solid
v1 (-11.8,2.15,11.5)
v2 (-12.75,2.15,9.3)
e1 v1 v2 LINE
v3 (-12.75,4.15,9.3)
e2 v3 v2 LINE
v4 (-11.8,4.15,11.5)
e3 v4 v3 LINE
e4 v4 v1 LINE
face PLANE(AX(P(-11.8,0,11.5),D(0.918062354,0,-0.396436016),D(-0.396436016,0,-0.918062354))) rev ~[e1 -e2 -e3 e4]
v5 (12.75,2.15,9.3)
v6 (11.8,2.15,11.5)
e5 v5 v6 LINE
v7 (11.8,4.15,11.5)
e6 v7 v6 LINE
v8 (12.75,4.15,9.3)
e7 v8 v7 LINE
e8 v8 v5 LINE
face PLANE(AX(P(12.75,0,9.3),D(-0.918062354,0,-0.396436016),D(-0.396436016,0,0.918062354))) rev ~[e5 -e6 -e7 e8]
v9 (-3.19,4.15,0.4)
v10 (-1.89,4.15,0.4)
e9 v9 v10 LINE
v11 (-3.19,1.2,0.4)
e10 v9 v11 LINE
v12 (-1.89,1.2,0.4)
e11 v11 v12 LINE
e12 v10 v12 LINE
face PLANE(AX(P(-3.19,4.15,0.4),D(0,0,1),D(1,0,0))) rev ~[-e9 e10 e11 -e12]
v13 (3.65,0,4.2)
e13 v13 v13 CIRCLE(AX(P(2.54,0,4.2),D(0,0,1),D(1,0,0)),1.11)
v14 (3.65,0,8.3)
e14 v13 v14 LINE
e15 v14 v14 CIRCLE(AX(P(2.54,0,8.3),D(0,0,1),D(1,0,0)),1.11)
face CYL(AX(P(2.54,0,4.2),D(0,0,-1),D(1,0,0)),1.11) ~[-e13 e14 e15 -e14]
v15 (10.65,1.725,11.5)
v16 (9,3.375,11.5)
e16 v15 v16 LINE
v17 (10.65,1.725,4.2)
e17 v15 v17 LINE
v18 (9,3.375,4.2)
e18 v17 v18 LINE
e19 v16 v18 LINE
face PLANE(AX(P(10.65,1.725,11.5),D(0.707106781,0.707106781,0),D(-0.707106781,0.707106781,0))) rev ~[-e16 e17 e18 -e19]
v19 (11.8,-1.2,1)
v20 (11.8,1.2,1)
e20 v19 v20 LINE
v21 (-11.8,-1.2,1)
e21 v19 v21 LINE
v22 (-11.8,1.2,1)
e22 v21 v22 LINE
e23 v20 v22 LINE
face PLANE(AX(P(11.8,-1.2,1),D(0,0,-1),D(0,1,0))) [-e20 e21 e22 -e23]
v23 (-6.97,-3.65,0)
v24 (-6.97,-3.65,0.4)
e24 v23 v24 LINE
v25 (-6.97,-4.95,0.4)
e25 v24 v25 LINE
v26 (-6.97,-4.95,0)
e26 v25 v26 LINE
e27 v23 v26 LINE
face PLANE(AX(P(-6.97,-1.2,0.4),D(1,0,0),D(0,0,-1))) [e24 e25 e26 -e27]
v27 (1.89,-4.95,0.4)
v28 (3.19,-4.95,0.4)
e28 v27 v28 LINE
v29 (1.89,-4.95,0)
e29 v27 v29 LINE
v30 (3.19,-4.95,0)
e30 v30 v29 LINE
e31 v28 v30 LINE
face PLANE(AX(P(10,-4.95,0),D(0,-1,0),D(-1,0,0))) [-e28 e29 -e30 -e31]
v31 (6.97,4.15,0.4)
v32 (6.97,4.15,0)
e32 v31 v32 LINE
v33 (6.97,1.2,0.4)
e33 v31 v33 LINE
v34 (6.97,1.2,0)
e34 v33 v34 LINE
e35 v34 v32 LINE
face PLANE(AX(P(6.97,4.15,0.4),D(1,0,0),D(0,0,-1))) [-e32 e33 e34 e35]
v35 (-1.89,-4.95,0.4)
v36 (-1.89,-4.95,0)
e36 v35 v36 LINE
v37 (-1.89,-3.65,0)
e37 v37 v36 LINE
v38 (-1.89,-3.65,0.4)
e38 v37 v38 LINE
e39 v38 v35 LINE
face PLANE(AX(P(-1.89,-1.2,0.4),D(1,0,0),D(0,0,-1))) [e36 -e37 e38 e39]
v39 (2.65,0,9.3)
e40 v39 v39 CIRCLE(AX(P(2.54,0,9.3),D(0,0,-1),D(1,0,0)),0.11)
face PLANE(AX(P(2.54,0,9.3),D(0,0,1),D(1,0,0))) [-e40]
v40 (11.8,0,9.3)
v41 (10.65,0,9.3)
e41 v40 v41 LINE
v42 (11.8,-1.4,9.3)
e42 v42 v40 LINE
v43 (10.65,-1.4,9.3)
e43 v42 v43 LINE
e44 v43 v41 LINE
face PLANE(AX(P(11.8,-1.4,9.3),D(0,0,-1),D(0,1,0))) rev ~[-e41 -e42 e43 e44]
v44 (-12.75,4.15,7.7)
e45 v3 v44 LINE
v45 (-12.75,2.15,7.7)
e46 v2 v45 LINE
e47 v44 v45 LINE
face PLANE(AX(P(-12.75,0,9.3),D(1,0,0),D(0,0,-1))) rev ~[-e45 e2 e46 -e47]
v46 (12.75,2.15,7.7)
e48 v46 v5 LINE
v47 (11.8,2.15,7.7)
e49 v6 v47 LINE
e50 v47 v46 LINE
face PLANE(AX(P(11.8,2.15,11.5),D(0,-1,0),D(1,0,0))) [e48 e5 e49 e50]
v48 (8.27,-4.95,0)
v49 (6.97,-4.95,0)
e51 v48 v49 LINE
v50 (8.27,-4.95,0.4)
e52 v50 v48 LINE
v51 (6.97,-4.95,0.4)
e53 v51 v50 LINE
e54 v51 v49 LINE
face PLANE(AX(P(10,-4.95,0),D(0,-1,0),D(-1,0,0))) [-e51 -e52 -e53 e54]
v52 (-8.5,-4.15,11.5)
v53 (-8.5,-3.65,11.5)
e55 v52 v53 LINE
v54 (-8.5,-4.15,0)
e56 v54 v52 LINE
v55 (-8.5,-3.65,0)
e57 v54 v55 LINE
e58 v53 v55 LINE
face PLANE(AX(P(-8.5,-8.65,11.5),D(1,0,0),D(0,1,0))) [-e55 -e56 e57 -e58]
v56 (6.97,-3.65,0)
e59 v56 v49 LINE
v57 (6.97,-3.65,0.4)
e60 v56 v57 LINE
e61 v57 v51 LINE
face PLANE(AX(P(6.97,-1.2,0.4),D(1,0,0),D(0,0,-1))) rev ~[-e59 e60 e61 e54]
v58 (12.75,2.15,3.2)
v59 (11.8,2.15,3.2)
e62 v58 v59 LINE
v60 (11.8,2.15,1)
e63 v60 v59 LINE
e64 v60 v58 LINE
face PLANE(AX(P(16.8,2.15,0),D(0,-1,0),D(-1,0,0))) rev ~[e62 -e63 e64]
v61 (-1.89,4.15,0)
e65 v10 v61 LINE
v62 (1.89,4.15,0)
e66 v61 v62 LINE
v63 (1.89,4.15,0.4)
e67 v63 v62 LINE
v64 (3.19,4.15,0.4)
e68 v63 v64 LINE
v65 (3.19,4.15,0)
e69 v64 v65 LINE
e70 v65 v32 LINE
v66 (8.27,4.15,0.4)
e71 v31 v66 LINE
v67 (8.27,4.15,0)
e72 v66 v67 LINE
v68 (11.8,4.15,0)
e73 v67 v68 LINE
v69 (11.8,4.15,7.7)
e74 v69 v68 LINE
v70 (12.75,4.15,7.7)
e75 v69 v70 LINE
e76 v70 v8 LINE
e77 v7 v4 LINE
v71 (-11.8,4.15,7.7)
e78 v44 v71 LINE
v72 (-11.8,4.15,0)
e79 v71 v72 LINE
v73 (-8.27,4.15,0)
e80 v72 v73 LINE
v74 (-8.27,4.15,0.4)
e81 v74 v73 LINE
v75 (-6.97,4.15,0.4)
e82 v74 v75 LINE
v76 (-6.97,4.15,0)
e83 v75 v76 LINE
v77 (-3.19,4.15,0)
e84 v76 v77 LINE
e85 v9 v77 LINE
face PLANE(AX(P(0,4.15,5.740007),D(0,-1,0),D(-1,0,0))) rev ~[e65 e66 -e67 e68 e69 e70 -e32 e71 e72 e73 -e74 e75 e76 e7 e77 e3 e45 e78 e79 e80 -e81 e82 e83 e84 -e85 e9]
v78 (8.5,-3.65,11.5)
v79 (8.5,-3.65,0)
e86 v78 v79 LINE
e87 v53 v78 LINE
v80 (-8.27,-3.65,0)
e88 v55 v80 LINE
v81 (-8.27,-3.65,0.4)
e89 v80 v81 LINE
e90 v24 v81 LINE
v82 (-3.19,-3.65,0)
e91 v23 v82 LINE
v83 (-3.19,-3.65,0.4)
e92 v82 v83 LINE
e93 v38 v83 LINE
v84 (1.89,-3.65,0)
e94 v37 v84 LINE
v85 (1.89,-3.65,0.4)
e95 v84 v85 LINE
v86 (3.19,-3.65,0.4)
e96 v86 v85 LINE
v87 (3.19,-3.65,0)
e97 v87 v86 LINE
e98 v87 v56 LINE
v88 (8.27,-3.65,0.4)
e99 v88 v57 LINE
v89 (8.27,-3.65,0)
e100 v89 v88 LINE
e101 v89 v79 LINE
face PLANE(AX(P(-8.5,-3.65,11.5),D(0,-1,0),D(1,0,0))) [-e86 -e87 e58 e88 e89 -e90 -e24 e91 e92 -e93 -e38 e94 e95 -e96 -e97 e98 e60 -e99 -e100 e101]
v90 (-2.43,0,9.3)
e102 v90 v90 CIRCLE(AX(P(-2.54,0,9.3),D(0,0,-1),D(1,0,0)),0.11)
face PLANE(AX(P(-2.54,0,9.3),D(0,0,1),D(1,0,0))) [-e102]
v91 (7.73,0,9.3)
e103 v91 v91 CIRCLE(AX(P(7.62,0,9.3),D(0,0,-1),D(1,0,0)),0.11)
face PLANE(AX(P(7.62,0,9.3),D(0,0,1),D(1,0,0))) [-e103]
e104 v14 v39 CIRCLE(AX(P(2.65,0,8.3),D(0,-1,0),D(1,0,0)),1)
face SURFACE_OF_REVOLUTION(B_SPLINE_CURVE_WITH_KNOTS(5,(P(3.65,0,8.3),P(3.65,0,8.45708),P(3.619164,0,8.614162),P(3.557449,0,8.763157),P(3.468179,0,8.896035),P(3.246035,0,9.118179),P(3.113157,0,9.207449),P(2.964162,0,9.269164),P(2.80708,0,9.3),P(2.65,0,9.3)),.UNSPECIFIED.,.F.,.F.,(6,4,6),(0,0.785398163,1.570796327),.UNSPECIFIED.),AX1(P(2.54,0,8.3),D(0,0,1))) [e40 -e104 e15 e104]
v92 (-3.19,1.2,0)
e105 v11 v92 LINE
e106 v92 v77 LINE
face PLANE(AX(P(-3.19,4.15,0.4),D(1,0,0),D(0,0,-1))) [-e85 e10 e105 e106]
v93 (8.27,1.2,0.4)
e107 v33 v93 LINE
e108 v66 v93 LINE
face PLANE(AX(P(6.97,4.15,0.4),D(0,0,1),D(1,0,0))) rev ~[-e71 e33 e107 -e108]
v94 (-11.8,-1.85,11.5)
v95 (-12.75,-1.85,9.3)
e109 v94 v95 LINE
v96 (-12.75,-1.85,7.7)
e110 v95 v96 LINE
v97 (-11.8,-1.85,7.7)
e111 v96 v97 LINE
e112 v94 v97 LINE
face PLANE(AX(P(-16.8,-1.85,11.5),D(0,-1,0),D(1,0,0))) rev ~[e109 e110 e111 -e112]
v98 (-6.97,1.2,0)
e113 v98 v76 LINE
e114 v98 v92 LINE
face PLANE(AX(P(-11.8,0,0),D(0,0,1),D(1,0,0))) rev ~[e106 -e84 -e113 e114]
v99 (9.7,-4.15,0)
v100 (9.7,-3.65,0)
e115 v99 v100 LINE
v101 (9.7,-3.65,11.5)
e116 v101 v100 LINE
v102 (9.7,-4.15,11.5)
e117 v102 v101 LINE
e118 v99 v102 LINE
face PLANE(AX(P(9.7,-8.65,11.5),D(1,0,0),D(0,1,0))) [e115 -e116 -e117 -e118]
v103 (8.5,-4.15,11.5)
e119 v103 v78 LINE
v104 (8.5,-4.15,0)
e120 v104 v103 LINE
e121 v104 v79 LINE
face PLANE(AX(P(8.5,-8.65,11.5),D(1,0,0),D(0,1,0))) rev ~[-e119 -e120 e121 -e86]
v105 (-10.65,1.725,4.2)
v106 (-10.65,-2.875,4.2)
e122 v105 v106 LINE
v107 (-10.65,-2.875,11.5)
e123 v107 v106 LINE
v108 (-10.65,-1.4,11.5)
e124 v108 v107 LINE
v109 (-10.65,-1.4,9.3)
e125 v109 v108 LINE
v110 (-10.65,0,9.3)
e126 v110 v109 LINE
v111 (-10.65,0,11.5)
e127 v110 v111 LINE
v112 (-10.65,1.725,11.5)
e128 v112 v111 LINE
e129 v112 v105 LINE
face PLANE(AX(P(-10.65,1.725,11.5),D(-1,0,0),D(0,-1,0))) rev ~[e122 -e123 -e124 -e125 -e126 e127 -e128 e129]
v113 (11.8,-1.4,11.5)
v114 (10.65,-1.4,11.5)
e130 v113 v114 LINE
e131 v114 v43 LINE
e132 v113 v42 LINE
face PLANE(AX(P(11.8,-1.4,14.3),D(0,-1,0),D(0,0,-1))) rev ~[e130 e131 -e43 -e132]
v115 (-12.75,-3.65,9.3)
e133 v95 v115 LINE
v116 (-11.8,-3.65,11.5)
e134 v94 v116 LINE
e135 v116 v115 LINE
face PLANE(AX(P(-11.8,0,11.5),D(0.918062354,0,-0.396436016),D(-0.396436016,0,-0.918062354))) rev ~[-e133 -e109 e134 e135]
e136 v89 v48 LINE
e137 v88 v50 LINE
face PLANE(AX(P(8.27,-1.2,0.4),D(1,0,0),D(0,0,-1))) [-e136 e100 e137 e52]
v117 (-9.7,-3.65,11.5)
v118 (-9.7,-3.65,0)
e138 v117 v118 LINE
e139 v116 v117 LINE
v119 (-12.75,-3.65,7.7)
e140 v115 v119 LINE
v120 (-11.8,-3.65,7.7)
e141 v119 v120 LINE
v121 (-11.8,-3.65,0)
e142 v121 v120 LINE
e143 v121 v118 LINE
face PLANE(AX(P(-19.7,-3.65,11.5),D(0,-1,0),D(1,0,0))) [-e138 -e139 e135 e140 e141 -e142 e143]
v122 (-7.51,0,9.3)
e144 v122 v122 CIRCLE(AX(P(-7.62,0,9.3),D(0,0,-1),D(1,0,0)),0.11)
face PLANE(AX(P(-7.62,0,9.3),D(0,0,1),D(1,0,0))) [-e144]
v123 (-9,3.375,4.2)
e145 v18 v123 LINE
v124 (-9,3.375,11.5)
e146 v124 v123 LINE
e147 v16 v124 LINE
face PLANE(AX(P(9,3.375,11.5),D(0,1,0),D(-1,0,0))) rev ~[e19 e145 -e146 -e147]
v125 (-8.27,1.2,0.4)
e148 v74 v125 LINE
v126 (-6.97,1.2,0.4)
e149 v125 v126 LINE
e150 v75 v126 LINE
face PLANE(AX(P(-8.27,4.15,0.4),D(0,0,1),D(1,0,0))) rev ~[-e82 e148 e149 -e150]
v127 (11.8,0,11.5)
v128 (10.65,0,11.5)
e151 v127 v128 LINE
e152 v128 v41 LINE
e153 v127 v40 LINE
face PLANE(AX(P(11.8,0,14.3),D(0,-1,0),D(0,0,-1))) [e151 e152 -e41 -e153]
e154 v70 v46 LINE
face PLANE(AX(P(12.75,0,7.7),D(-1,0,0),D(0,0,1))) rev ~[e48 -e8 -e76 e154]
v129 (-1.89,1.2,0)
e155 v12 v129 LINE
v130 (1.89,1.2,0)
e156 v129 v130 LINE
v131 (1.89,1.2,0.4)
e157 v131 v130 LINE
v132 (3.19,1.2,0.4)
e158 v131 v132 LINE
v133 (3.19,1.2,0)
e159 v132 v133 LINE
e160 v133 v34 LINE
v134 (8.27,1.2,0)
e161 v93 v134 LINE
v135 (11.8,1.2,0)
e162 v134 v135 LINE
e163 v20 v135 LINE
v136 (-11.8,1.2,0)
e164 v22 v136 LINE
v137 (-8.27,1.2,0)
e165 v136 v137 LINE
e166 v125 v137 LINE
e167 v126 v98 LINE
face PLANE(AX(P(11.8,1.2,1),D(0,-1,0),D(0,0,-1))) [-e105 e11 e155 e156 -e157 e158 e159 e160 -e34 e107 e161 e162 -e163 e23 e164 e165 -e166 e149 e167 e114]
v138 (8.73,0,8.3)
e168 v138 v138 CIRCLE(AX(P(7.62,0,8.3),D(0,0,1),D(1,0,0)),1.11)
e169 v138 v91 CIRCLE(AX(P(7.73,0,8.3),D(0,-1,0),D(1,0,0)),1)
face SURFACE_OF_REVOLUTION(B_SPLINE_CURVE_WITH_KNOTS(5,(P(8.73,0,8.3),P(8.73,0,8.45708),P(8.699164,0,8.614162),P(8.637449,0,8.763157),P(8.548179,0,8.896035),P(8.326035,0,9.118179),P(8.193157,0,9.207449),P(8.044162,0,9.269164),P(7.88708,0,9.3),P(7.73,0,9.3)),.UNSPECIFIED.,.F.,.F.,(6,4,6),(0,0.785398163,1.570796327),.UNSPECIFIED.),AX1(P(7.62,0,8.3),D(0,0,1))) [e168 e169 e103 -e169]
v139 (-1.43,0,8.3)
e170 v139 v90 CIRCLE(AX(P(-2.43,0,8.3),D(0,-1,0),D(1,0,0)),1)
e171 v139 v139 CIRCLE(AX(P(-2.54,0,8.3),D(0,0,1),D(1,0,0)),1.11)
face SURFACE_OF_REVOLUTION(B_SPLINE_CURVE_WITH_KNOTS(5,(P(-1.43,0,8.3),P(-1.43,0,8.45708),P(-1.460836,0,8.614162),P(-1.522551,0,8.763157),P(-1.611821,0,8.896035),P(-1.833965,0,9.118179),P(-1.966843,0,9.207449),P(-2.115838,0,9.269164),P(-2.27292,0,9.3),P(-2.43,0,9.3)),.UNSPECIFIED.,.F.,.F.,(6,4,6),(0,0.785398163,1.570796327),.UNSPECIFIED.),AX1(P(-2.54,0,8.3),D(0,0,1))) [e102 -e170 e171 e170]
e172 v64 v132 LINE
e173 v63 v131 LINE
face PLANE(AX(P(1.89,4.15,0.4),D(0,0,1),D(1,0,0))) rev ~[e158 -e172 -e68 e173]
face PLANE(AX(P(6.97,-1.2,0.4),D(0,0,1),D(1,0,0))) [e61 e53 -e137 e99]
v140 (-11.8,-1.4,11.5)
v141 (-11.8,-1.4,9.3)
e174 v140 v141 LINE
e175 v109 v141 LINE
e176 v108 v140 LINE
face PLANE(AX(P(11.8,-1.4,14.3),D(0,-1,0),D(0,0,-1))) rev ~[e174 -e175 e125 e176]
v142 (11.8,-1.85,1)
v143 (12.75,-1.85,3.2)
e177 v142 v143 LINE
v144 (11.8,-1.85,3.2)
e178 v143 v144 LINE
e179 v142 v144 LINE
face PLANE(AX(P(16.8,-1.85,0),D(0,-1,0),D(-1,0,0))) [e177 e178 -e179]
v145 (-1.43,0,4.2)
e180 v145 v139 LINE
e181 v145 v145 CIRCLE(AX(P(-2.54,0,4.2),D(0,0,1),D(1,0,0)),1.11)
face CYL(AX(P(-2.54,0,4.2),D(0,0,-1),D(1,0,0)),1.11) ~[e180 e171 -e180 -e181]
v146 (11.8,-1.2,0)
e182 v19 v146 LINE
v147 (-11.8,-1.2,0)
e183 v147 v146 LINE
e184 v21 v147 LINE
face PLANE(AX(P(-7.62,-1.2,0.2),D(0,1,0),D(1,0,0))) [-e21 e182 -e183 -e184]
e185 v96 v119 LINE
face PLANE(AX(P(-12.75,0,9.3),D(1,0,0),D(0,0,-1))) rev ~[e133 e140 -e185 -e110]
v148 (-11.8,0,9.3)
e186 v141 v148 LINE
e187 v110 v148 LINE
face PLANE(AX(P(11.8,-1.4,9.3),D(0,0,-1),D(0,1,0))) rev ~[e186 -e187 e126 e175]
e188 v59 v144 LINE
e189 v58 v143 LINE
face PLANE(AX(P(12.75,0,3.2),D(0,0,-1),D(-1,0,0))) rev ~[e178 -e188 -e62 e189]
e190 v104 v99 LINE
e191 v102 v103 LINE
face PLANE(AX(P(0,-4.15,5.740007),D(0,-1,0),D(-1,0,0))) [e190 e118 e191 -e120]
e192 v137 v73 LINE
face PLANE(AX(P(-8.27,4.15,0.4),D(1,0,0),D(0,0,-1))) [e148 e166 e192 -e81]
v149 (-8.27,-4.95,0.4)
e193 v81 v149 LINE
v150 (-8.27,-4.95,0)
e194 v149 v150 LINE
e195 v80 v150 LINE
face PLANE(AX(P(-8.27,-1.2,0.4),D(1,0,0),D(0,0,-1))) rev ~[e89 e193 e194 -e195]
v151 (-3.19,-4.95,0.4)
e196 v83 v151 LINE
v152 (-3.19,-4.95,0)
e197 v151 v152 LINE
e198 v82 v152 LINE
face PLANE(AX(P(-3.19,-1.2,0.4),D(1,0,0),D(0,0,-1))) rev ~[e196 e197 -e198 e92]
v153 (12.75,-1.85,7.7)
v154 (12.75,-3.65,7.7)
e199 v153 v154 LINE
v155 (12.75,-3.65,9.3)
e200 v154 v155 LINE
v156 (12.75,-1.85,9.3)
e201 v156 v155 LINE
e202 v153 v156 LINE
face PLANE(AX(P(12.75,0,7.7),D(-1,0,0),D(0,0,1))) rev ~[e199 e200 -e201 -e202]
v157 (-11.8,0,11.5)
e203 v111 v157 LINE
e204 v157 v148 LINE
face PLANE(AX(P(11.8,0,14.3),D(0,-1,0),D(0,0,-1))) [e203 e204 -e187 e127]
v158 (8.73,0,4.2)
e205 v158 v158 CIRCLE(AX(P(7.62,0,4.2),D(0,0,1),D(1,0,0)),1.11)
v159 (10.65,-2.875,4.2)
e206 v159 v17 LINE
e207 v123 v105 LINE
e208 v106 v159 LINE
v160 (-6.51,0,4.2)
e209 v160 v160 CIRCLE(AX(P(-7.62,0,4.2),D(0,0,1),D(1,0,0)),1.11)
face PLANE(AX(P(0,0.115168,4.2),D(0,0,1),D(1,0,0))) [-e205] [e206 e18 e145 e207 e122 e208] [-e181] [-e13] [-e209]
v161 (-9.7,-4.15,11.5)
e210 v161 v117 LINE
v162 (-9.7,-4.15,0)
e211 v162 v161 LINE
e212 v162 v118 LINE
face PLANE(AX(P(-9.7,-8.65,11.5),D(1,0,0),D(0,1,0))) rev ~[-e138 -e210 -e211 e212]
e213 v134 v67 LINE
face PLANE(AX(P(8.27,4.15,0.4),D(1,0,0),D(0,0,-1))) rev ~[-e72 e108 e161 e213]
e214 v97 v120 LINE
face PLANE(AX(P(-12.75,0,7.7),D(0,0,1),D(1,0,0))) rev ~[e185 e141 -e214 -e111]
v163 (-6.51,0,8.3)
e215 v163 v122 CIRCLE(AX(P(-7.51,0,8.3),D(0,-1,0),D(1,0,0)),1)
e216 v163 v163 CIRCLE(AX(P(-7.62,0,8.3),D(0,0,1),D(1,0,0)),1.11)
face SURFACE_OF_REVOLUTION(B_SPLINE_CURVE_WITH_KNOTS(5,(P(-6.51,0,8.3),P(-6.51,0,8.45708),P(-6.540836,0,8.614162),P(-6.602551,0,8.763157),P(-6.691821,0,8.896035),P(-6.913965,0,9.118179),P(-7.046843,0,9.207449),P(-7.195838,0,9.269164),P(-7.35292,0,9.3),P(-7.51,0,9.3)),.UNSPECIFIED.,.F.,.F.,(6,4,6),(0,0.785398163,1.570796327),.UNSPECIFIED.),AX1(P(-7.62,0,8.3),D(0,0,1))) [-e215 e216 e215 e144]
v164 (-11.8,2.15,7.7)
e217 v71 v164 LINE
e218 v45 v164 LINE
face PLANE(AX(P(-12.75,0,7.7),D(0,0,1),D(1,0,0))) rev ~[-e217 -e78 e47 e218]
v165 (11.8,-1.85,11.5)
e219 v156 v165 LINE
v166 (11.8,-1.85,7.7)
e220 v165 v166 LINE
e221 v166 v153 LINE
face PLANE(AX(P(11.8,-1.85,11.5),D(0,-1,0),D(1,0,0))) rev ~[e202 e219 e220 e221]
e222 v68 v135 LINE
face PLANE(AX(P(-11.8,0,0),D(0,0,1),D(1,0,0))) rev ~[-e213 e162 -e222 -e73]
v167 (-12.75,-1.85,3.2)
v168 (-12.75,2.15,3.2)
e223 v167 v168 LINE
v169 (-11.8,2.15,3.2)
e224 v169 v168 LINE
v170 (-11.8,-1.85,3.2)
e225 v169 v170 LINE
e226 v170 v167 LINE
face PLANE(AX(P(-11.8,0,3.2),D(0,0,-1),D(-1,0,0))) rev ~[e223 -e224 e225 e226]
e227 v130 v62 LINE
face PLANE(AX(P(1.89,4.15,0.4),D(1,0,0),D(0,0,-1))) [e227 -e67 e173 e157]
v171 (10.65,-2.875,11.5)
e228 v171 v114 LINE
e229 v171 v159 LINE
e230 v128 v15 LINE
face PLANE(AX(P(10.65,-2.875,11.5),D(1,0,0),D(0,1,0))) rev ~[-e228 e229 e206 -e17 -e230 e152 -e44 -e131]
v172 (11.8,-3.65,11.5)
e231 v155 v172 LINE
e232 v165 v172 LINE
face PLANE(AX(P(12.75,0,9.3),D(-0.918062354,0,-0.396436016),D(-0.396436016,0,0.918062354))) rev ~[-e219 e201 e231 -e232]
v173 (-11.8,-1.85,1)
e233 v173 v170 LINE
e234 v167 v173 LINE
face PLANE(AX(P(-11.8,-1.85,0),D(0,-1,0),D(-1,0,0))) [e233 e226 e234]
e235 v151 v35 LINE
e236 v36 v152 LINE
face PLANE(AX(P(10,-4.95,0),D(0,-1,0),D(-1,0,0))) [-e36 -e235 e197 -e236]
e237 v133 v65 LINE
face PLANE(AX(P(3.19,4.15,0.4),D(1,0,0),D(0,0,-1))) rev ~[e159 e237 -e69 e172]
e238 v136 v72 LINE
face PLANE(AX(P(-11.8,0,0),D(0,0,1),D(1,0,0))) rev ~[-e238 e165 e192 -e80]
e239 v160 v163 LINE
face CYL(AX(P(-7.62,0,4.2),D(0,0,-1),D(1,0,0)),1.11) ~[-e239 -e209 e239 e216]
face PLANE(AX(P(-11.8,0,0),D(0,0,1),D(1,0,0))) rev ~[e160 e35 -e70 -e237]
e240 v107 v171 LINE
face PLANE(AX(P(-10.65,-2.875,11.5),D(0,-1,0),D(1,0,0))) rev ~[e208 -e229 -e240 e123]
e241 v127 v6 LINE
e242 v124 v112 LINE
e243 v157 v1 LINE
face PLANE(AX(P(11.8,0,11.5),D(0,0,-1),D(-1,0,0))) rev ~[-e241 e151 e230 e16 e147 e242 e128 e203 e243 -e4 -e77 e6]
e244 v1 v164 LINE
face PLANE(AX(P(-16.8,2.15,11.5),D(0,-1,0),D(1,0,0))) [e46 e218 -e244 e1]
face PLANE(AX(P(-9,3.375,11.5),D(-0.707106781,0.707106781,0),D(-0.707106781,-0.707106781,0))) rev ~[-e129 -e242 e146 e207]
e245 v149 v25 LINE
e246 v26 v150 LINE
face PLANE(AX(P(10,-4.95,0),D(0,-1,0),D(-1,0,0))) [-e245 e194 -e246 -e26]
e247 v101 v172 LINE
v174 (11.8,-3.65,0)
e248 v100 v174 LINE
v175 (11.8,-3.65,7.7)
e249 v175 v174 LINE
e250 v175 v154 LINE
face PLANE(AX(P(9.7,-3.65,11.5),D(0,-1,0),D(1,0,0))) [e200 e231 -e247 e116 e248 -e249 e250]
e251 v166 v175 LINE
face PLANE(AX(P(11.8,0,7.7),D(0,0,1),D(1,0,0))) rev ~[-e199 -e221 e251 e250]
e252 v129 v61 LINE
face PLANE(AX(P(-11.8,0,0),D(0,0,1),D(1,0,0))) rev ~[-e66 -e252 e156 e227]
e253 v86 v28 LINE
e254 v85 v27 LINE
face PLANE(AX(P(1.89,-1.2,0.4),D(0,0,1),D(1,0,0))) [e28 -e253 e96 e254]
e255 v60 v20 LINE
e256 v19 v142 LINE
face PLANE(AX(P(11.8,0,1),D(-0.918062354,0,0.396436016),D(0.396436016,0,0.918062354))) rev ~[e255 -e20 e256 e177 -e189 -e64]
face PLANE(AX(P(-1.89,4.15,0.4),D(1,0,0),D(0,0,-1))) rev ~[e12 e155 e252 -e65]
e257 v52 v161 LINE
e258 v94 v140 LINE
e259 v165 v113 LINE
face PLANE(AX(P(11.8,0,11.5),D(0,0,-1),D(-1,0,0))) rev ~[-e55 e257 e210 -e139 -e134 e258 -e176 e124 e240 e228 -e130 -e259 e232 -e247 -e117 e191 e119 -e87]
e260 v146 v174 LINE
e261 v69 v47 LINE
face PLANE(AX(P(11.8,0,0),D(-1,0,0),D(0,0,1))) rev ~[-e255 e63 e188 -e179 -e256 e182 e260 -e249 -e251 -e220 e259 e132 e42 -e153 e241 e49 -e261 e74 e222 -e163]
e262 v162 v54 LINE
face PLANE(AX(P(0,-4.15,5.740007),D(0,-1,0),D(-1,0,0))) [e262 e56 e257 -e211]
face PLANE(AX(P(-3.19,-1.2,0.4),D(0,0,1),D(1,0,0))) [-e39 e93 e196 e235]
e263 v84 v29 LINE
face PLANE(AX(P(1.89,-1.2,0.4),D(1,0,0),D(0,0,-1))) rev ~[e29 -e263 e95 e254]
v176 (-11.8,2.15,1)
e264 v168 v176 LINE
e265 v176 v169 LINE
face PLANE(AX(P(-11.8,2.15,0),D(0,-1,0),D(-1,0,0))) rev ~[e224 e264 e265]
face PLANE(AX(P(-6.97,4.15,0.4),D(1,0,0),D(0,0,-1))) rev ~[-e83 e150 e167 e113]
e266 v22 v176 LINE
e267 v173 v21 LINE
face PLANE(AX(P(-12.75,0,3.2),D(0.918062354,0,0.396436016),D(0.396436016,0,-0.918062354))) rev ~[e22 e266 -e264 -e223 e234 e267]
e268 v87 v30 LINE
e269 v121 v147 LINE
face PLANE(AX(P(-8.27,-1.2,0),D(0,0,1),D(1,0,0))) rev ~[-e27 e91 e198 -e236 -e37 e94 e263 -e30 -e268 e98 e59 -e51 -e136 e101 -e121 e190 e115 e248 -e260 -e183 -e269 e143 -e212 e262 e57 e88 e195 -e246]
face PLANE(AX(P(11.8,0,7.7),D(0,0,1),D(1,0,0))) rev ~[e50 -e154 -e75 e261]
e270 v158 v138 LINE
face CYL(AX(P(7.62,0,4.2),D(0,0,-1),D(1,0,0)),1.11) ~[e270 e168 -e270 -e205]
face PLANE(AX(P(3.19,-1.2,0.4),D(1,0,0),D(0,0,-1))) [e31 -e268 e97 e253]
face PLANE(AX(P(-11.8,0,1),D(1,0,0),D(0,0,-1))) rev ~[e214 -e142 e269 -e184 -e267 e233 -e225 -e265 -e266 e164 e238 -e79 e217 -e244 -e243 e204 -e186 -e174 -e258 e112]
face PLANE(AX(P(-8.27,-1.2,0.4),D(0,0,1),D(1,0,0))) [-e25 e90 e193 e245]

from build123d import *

# Parameters (mm, degrees)
BOSS_EXTRUDE1_DEPTH = 4.15
SKETCH2_W           = 10
SKETCH2_H           = 5
SKETCH2_W_2         = 17
CUT_EXTRUDE1_DEPTH  = 12.5
SKETCH3_W           = 5
SKETCH3_H           = 4
CUT_EXTRUDE2_DEPTH  = 6.3
SKETCH4_W           = 5
SKETCH4_H           = 4.540427611
SKETCH4_H_2         = 5
CUT_EXTRUDE3_DEPTH  = 6.3
CUT_EXTRUDE4_DEPTH  = 7.3
SKETCH6_R           = 1.11
BOSS_EXTRUDE2_DEPTH = 5.1
FILLET1_R           = 1
SKETCH7_W           = 5
SKETCH7_H           = 1.4
CUT_EXTRUDE5_DEPTH  = 25.55
SKETCH8_W           = 1.3
SKETCH8_H           = 3
CUT_EXTRUDE6_DEPTH  = 9.3
SKETCH9_W           = 3
SKETCH9_H           = 2.4
CUT_EXTRUDE7_DEPTH  = 25.55
SKETCH10_W          = 1.3
SKETCH10_H          = 0.4
BOSS_EXTRUDE3_DEPTH = 6.5
SKETCH11_W          = 20
SKETCH11_H          = 5
CUT_EXTRUDE8_DEPTH  = 12.5


with BuildPart() as part:
    # Sketch1 → Boss-Extrude1 (new body, symmetric)
    with BuildSketch(Plane(origin=(0, 0, 0), x_dir=(1, 0, 0), z_dir=(0, 1, 0))):
        Polygon((-11.8, 0), (11.8, 0), (11.8, -1), (12.75, -3.2), (11.8, -3.2), (11.8, -7.7), (12.75, -7.7), (12.75, -9.3), (11.8, -11.5), (-11.8, -11.5), (-12.75, -9.3), (-12.75, -7.7), (-11.8, -7.7), (-11.8, -3.2), (-12.75, -3.2), (-11.8, -1), align=None)
    extrude(amount=BOSS_EXTRUDE1_DEPTH, both=True)

    # Sketch2 → Cut-Extrude1 (cut, through all)
    with BuildSketch(Plane.XY.offset(11.5)):
        with Locations((14.7, -6.15)):
            Rectangle(SKETCH2_W, SKETCH2_H)
        with Locations((-14.7, -6.15)):
            Rectangle(SKETCH2_W, SKETCH2_H)
        with Locations((0, -6.15)):
            Rectangle(SKETCH2_W_2, SKETCH2_H)
    extrude(amount=-CUT_EXTRUDE1_DEPTH, mode=Mode.SUBTRACT)

    # Sketch3 → Cut-Extrude2 (cut)
    with BuildSketch(Plane.XY.offset(11.5)):
        with Locations((14.3, 0.15)):
            Rectangle(SKETCH3_W, SKETCH3_H)
        with Locations((-14.3, 0.15)):
            Rectangle(SKETCH3_W, SKETCH3_H)
    extrude(amount=-CUT_EXTRUDE2_DEPTH, mode=Mode.SUBTRACT)

    # Sketch4 → Cut-Extrude3 (cut)
    with BuildSketch(Plane(origin=(0, 0, 0), x_dir=(-1, 0, 0), z_dir=(0, 0, -1))):
        with Locations((14.3, 4.420213806)):
            Rectangle(SKETCH4_W, SKETCH4_H)
        with Locations((14.3, -4.35)):
            Rectangle(SKETCH4_W, SKETCH4_H_2)
        with Locations((-14.3, -4.35)):
            Rectangle(SKETCH4_W, SKETCH4_H_2)
        with Locations((-14.3, 4.65)):
            Rectangle(SKETCH4_W, SKETCH4_H_2)
    extrude(amount=-CUT_EXTRUDE3_DEPTH, mode=Mode.SUBTRACT)

    # Sketch5 → Cut-Extrude4 (cut)
    with BuildSketch(Plane.XY.offset(11.5)):
        Polygon((-10.65, -2.875), (10.65, -2.875), (10.65, 1.725), (9, 3.375), (-9, 3.375), (-10.65, 1.725), align=None)
    extrude(amount=-CUT_EXTRUDE4_DEPTH, mode=Mode.SUBTRACT)

    # Sketch6 → Boss-Extrude2 (add)
    with BuildSketch(Plane.XY.offset(4.2)):
        with Locations((-7.62, 0)):
            Circle(SKETCH6_R)
        with Locations((-2.54, 0)):
            Circle(SKETCH6_R)
        with Locations((2.54, -3.41e-07)):
            Circle(SKETCH6_R)
        with Locations((7.62, 0)):
            Circle(SKETCH6_R)
    extrude(amount=BOSS_EXTRUDE2_DEPTH)

    # Fillet1
    fillet1_edges = [part.edges().sort_by_distance(p)[0] for p in [
        (-8.73, 0, 9.3),
        (-3.65, 0, 9.3),
        (1.43, -3.41e-07, 9.3),
        (6.51, 0, 9.3),
    ]]
    fillet(fillet1_edges, radius=FILLET1_R)

    # Sketch7 → Cut-Extrude5 (cut, through all)
    with BuildSketch(Plane(origin=(11.8, 0, 0), x_dir=(0, 0, -1), z_dir=(1, 0, 0))):
        with Locations((-11.8, -0.7)):
            Rectangle(SKETCH7_W, SKETCH7_H)
    extrude(amount=-CUT_EXTRUDE5_DEPTH, mode=Mode.SUBTRACT)

    # Sketch8 → Cut-Extrude6 (cut, through all)
    with BuildSketch(Plane(origin=(0, 4.15, 0), x_dir=(1, 0, 0), z_dir=(0, 1, 0))):
        with Locations((-7.62, 1.1)):
            Rectangle(SKETCH8_W, SKETCH8_H)
        with Locations((-2.54, 1.1)):
            Rectangle(SKETCH8_W, SKETCH8_H)
        with Locations((2.54, 1.1)):
            Rectangle(SKETCH8_W, SKETCH8_H)
        with Locations((7.62, 1.1)):
            Rectangle(SKETCH8_W, SKETCH8_H)
    extrude(amount=-CUT_EXTRUDE6_DEPTH, mode=Mode.SUBTRACT)

    # Sketch9 → Cut-Extrude7 (cut, through all)
    with BuildSketch(Plane(origin=(11.8, 0, 0), x_dir=(0, 0, -1), z_dir=(1, 0, 0))):
        with Locations((0.5, 0)):
            Rectangle(SKETCH9_W, SKETCH9_H)
    extrude(amount=-CUT_EXTRUDE7_DEPTH, mode=Mode.SUBTRACT)

    # Sketch10 → Boss-Extrude3 (add)
    with BuildSketch(Plane(origin=(0, -1.2, 0), x_dir=(1, 0, 0), z_dir=(0, 1, 0))):
        with Locations((-7.62, -0.2)):
            Rectangle(SKETCH10_W, SKETCH10_H)
        with Locations((-2.54, -0.2)):
            Rectangle(SKETCH10_W, SKETCH10_H)
        with Locations((2.54, -0.2)):
            Rectangle(SKETCH10_W, SKETCH10_H)
        with Locations((7.62, -0.2)):
            Rectangle(SKETCH10_W, SKETCH10_H)
    extrude(amount=-BOSS_EXTRUDE3_DEPTH)

    # Sketch11 → Cut-Extrude8 (cut, through all)
    with BuildSketch(Plane(origin=(0, 0, 0), x_dir=(-1, 0, 0), z_dir=(0, 0, -1))):
        with Locations((0, -7.45)):
            Rectangle(SKETCH11_W, SKETCH11_H)
    extrude(amount=-CUT_EXTRUDE8_DEPTH, mode=Mode.SUBTRACT)


solid = part.part
